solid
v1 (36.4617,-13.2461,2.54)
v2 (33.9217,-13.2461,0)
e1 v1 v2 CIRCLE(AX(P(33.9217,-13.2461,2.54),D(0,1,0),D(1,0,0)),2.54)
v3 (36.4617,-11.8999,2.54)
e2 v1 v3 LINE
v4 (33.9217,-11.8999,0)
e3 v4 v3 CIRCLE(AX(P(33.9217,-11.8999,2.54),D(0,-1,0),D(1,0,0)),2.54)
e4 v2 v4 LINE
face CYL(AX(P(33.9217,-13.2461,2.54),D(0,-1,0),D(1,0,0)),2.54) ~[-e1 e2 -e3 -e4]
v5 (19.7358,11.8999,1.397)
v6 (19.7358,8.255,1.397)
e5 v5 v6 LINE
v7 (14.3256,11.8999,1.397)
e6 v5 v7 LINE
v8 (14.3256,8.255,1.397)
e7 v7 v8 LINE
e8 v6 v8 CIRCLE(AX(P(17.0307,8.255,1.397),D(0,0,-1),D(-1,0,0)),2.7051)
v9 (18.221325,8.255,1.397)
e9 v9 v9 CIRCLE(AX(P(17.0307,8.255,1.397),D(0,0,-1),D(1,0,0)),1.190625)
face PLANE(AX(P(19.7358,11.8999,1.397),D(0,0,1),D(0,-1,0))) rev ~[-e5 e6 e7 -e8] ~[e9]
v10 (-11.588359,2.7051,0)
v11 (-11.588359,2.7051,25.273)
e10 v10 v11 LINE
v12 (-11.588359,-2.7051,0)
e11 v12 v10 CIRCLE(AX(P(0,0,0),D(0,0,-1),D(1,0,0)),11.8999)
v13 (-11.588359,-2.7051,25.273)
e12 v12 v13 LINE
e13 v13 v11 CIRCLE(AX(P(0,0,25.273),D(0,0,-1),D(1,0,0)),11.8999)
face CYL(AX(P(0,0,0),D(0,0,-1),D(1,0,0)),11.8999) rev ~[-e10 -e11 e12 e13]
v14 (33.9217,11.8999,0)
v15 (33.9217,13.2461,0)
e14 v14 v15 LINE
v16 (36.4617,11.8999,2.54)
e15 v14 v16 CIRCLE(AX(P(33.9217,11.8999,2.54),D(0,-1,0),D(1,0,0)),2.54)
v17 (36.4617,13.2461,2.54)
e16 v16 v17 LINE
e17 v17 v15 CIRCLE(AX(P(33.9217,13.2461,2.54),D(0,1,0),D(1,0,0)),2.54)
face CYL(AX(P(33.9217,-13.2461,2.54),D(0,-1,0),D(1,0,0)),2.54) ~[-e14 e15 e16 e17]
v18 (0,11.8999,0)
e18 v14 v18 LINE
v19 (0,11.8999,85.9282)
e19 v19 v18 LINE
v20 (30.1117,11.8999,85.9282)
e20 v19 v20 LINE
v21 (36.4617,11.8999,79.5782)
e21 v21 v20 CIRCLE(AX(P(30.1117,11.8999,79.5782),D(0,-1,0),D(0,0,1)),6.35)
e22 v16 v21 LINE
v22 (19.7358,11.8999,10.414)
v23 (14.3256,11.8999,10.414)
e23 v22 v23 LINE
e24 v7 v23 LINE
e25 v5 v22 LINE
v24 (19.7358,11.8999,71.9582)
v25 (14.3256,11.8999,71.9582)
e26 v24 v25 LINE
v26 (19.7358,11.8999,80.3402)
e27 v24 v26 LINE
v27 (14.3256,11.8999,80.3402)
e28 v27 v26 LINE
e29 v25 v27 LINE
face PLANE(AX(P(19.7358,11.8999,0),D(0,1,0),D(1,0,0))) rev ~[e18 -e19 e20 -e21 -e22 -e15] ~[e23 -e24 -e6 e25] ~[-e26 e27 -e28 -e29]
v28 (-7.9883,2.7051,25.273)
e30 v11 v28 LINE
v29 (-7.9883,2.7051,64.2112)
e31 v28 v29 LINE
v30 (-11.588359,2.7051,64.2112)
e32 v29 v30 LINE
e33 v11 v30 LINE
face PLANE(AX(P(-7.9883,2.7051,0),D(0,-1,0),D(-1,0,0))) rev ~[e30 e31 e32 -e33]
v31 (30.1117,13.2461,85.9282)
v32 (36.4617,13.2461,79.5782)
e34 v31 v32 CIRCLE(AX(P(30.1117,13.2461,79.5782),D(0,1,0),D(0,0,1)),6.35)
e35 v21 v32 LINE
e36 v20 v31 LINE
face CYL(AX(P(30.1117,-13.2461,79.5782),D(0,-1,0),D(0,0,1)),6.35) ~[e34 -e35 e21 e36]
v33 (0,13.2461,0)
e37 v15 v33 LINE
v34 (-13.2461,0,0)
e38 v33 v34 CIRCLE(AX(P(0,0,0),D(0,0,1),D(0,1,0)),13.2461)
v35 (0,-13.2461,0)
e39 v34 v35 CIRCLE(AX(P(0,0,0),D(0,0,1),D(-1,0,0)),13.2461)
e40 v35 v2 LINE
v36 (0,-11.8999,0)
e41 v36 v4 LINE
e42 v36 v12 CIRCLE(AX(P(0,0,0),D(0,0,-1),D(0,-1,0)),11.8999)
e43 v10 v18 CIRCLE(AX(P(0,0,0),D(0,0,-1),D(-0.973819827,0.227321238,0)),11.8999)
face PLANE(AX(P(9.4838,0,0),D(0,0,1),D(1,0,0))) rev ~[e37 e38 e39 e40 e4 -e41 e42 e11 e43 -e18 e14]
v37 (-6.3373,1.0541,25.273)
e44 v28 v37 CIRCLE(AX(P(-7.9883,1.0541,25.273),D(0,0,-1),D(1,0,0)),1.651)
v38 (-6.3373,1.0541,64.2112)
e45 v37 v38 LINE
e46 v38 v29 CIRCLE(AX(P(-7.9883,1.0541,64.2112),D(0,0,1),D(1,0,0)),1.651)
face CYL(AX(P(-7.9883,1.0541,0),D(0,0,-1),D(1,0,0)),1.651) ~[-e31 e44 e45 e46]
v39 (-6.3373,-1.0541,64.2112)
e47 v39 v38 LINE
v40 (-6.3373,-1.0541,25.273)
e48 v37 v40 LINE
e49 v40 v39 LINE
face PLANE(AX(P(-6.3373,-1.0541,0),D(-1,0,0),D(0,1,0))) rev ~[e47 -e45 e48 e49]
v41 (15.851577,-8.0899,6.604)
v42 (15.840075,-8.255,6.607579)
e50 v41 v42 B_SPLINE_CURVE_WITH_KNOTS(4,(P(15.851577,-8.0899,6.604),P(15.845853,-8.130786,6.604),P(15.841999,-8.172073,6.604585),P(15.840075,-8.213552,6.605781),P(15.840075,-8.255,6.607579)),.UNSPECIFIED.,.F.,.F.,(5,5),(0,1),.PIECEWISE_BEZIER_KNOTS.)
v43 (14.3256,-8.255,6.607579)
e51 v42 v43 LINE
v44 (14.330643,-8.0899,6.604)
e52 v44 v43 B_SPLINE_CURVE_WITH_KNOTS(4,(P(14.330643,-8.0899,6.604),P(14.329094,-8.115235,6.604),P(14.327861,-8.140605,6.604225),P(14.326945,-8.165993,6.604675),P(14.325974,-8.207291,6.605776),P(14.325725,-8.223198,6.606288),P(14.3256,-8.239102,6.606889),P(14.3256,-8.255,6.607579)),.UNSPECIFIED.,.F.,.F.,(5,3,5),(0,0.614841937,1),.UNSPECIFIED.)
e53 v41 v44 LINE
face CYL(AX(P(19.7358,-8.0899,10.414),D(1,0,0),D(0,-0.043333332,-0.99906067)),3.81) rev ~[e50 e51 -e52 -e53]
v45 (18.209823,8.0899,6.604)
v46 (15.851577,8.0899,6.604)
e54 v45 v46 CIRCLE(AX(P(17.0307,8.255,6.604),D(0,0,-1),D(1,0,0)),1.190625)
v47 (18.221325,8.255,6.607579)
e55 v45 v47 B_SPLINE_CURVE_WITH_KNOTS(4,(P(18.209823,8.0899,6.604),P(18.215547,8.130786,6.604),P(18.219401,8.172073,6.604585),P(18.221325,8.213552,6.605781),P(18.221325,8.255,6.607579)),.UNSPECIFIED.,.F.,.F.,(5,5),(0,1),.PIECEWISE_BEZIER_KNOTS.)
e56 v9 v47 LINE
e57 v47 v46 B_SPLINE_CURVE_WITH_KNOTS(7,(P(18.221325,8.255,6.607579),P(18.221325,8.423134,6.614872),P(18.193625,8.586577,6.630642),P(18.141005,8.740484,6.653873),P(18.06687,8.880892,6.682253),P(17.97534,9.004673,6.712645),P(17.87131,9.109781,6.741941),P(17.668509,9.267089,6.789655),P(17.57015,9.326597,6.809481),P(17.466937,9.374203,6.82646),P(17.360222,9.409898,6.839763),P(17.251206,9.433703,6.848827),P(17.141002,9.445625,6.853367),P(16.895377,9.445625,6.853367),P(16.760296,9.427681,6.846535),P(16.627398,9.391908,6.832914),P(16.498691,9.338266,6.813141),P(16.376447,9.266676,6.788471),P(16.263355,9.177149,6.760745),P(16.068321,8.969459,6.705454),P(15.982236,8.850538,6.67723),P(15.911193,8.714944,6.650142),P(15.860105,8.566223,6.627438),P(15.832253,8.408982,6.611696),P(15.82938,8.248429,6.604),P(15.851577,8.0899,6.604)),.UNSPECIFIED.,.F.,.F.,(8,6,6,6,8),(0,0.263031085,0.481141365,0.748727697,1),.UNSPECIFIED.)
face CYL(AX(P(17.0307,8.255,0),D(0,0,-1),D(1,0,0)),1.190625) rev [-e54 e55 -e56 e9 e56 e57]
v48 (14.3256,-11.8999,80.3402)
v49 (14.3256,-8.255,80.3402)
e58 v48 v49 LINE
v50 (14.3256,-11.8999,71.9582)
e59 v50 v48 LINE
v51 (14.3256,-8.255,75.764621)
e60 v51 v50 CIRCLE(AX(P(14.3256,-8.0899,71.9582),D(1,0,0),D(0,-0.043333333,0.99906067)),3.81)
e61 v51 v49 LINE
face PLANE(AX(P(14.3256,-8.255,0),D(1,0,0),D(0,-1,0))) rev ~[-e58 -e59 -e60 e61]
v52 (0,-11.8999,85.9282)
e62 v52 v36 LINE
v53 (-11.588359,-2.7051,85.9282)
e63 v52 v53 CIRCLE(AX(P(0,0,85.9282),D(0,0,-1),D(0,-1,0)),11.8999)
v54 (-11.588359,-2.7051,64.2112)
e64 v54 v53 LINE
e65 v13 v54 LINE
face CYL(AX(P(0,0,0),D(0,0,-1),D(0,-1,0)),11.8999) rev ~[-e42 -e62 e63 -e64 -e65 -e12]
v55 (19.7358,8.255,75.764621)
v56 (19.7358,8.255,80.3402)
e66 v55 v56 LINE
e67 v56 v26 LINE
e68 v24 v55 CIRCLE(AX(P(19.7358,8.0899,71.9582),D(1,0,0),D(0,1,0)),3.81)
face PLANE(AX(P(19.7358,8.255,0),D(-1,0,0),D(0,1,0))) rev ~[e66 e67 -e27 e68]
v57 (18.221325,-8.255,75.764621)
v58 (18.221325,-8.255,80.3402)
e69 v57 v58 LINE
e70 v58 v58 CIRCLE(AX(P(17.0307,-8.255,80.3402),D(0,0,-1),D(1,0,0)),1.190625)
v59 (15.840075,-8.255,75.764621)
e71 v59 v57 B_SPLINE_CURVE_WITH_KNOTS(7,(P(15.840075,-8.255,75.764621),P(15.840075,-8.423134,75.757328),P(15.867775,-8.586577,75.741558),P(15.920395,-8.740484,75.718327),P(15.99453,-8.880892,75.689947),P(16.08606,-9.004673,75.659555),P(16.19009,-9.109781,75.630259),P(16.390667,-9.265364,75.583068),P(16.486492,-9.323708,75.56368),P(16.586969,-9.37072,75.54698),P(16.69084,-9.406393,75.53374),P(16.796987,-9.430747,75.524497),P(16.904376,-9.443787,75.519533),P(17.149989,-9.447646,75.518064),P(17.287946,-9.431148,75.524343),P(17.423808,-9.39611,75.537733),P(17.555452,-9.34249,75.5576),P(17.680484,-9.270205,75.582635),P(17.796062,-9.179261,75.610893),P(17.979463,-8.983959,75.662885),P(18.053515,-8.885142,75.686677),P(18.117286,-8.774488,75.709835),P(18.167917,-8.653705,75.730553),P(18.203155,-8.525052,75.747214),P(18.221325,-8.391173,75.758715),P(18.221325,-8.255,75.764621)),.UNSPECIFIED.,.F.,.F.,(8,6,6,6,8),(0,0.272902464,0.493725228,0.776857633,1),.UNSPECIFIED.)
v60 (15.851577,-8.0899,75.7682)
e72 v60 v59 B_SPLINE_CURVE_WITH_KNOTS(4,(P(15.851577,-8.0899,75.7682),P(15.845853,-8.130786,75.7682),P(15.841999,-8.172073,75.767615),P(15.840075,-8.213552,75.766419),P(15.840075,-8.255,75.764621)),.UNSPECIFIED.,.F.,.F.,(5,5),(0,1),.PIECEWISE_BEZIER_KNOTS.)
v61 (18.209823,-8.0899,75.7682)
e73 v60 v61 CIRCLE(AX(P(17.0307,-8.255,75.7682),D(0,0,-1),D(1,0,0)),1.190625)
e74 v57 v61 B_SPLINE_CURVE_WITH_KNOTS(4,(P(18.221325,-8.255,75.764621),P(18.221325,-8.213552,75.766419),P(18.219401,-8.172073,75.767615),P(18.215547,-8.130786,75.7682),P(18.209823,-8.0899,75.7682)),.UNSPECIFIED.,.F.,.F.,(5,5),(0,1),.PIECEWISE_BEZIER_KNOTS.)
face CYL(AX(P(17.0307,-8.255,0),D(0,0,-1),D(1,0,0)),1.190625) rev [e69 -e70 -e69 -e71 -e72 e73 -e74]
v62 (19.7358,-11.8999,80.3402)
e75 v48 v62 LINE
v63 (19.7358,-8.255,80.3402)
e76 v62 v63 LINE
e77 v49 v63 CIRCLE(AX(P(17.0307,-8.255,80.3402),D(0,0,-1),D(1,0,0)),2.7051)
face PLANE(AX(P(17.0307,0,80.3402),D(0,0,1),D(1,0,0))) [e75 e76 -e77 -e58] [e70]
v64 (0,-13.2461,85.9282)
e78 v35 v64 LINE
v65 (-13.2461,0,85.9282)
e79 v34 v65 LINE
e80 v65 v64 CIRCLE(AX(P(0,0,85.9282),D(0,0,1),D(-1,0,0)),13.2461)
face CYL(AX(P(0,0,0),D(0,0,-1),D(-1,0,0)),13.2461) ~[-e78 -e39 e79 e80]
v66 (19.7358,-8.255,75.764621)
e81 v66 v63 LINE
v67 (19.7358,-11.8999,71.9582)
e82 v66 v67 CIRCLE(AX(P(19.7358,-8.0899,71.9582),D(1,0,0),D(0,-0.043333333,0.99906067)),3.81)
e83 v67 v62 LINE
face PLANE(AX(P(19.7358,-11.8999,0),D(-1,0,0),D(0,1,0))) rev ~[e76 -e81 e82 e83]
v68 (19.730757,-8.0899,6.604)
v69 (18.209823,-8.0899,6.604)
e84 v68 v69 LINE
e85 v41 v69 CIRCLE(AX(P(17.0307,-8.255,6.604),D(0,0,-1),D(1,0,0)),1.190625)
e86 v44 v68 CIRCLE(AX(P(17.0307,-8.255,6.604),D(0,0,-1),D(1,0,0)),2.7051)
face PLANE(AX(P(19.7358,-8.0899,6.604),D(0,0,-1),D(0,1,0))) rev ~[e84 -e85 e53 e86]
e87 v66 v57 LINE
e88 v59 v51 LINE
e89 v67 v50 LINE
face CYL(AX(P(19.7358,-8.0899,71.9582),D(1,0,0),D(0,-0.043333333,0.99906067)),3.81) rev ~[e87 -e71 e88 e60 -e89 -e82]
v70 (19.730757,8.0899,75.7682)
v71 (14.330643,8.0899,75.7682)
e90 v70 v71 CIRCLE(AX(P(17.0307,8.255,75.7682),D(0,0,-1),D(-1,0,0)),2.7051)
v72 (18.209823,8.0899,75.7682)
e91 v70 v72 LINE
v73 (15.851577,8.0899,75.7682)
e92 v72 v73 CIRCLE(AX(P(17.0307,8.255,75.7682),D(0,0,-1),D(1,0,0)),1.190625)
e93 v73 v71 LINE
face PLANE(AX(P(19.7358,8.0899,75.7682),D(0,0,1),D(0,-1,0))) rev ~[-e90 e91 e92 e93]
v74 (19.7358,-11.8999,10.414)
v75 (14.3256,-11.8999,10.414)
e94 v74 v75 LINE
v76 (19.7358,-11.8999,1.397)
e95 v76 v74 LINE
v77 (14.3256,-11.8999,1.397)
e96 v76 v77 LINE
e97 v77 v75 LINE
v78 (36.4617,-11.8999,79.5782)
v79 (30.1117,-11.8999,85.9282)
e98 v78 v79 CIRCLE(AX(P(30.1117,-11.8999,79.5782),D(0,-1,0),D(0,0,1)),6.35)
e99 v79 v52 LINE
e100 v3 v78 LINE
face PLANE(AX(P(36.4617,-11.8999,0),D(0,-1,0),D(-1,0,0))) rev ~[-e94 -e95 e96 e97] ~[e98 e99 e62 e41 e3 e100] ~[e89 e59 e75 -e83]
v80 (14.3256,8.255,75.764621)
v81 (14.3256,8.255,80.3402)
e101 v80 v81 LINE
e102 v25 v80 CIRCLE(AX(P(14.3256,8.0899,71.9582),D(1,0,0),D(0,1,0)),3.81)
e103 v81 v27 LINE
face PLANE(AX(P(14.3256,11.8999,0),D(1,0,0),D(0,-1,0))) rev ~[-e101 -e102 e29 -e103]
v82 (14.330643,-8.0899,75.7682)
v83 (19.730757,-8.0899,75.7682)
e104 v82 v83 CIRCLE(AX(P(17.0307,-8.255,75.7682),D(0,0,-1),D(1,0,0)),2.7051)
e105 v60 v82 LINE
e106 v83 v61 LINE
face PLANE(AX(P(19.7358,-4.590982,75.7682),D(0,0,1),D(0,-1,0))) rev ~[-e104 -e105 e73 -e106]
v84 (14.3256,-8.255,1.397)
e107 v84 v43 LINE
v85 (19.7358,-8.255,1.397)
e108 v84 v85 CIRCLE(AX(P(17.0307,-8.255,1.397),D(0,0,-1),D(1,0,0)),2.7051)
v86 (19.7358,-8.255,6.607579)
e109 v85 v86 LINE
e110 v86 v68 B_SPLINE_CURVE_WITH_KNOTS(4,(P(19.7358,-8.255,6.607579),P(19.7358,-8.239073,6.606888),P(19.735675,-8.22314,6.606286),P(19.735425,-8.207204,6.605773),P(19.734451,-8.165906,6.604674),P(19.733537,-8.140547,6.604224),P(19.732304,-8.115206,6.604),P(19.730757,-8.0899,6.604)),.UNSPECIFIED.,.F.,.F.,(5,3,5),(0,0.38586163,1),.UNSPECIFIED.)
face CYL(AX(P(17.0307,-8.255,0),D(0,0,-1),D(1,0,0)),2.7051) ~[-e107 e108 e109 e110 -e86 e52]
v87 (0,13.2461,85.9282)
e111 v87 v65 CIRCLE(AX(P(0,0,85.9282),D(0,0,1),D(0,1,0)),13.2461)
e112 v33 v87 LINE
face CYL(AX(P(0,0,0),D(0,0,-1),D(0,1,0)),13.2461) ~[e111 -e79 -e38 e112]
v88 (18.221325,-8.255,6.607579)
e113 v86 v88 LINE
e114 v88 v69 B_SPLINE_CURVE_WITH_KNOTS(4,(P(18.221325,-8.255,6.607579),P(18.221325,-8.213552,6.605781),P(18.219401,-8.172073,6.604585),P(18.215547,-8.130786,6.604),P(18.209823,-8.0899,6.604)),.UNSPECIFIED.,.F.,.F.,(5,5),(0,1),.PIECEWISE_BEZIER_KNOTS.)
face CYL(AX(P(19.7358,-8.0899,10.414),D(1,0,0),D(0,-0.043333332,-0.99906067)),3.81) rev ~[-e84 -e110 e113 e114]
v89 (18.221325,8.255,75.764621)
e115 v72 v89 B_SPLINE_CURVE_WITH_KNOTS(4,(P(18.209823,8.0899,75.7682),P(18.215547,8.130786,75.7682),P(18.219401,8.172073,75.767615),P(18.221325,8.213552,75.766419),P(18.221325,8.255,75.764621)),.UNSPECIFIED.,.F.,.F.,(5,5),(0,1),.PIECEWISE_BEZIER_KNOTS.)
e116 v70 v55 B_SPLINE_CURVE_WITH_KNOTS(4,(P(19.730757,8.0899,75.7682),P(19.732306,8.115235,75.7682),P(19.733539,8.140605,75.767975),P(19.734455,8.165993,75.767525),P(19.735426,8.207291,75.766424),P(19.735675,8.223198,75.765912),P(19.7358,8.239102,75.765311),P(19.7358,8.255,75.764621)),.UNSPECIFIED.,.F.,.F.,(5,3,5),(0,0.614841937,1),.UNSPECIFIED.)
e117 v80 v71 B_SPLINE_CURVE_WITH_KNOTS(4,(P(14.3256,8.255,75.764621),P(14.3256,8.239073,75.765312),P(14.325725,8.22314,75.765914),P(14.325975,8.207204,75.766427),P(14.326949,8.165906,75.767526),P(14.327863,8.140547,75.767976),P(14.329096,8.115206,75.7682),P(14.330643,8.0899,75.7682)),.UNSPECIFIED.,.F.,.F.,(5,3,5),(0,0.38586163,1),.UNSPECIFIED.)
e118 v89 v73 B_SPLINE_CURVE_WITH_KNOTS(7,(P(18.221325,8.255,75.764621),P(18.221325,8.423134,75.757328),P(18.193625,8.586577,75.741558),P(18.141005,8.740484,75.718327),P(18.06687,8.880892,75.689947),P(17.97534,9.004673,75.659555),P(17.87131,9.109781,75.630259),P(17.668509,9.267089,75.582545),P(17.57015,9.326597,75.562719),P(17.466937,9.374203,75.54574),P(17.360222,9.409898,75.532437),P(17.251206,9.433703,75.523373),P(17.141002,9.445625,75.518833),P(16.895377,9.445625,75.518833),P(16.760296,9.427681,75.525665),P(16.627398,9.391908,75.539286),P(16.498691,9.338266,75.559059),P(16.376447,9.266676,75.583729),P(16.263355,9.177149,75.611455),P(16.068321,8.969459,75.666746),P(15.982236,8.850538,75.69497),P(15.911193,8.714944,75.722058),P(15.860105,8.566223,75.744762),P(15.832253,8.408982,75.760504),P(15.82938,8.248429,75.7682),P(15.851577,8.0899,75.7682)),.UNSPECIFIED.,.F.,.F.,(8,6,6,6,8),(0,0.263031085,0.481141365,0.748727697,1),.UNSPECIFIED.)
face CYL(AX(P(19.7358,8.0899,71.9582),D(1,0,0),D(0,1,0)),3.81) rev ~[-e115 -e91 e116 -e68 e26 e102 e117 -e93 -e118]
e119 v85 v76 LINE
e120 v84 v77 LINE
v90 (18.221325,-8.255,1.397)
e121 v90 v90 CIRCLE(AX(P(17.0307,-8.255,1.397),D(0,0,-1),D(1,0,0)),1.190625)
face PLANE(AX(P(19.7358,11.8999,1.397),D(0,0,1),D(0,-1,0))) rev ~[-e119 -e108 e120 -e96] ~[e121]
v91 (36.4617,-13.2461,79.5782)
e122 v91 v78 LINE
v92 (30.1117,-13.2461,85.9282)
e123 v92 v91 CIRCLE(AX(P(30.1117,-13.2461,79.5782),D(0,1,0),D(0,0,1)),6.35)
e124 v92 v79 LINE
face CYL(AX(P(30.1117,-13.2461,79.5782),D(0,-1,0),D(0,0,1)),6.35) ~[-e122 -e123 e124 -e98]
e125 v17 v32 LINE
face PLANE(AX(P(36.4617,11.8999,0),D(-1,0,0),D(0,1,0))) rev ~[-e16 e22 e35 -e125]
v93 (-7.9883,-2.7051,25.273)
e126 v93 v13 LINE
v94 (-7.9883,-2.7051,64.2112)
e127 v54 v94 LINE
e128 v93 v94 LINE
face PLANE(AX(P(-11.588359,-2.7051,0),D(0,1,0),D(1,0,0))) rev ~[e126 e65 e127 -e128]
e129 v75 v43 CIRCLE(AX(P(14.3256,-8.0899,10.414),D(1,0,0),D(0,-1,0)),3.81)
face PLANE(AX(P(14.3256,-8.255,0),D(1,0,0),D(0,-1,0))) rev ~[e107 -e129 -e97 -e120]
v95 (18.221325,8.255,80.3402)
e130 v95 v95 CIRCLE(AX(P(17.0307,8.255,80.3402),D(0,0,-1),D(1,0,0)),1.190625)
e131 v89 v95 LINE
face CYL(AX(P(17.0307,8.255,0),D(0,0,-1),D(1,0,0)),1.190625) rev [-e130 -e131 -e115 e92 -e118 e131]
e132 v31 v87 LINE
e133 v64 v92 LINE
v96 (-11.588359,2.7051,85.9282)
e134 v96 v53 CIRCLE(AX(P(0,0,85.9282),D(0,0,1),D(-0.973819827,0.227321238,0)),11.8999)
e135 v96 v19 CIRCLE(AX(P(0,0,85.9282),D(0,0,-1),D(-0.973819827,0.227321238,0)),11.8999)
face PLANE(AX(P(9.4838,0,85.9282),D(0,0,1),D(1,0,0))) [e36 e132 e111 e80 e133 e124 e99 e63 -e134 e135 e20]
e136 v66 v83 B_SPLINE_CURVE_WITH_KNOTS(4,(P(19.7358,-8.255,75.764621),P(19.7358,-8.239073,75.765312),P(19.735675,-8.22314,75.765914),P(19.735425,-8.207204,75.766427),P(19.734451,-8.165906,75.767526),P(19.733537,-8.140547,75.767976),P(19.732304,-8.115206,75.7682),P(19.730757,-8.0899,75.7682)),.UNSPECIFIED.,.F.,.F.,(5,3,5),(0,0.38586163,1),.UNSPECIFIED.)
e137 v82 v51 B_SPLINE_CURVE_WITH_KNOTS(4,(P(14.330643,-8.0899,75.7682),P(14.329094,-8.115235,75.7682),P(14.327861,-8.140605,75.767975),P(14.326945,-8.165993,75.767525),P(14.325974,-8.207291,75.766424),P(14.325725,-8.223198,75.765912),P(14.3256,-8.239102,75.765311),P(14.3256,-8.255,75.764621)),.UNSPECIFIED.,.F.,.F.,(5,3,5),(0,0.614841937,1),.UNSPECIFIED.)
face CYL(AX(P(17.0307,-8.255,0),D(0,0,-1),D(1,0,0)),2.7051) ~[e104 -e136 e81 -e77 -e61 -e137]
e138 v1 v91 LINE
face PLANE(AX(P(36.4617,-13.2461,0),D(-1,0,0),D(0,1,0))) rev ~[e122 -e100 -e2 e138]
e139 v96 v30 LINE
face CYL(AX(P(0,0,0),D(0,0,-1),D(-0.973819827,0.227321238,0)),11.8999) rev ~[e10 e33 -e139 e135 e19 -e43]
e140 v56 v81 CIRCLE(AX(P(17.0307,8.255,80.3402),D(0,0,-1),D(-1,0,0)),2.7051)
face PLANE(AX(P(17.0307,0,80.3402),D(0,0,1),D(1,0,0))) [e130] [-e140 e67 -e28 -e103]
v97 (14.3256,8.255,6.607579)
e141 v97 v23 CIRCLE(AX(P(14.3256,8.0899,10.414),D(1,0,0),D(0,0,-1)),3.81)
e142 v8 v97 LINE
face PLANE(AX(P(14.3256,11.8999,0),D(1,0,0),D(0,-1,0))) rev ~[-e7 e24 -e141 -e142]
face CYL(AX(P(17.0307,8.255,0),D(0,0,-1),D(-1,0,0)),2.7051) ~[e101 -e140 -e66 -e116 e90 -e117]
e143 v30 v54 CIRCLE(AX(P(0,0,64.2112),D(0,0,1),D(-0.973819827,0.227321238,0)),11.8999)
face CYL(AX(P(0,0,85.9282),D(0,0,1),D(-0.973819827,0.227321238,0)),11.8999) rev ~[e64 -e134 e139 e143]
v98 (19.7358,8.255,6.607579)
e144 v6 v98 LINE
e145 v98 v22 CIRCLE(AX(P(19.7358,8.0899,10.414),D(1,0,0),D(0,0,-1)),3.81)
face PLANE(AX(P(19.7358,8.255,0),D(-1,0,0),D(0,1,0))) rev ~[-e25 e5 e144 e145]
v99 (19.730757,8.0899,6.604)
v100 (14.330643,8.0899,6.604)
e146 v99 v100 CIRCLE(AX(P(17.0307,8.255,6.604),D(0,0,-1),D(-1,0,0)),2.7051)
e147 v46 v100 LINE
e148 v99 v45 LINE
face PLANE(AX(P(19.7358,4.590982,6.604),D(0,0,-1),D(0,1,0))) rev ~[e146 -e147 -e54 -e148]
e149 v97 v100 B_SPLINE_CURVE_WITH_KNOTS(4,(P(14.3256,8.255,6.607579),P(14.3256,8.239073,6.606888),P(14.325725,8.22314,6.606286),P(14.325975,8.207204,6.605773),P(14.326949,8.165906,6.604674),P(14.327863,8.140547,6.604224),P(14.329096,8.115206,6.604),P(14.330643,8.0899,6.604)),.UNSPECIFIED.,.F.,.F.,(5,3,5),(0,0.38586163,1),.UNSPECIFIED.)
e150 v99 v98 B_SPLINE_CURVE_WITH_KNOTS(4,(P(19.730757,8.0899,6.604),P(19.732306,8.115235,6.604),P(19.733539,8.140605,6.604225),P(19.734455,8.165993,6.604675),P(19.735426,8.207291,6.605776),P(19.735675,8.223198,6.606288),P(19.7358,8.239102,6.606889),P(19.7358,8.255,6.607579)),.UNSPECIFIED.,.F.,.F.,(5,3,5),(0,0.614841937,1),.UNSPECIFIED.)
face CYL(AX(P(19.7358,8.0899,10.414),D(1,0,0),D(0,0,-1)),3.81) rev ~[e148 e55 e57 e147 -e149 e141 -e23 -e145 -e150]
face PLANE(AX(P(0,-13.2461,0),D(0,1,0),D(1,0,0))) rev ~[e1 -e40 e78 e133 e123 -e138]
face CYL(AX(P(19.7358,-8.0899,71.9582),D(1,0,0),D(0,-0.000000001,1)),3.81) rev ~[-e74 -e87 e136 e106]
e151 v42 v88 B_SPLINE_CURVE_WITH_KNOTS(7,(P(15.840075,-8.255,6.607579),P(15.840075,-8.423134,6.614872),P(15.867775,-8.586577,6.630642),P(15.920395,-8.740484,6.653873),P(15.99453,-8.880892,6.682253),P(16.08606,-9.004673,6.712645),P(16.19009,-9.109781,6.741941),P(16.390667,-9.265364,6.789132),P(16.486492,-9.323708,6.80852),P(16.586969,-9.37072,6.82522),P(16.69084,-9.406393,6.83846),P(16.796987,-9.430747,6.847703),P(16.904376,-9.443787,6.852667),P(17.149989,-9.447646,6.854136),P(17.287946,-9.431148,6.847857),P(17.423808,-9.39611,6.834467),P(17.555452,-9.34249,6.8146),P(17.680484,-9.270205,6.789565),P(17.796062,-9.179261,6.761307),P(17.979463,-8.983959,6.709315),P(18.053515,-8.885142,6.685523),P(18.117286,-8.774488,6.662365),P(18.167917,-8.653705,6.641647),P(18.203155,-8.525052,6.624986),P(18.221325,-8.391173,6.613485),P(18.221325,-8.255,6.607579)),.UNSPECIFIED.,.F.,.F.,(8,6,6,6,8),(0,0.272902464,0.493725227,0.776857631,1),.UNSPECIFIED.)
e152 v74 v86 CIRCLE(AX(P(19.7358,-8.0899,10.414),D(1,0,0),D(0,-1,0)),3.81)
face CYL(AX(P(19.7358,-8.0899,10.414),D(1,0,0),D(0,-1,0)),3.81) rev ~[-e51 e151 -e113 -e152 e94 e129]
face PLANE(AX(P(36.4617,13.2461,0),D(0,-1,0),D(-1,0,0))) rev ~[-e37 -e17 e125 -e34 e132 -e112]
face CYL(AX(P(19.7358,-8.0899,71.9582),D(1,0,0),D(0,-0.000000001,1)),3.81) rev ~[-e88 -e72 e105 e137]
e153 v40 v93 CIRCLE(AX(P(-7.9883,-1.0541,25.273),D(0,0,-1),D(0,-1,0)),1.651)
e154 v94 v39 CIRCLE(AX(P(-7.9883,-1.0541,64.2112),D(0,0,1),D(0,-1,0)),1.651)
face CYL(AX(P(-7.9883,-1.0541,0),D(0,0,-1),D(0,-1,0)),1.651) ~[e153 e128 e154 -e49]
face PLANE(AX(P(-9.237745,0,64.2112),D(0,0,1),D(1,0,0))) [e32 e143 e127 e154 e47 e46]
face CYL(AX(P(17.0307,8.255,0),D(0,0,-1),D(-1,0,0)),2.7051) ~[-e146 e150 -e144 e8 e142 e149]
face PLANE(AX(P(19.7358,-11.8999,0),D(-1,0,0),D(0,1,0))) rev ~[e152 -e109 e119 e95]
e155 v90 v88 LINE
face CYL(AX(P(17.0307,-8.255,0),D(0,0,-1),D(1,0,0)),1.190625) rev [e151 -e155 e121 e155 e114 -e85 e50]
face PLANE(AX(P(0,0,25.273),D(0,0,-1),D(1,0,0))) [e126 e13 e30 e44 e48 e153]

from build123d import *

# Parameters (mm, degrees)
F0_R      = 1.190625
F1_DEPTH  = 85.9282
F3_DEPTH  = 21.717
F2_R      = 11.8999
F2_W      = 5.4102
F2_H      = 23.7998
F4_DEPTH  = 5.588
F6_DEPTH  = 6.35
F7_W      = 3.6449
F7_H      = 1.397
F8_DEPTH  = 6.35
F9_R      = 11.8999
F10_DEPTH = 25.273
F12_DEPTH = 26.4922


with BuildPart() as f1:
    # F0 (on Top) → F1 (new body)
    with BuildSketch(Plane.XY):
        with BuildLine():
            Line((36.4617, 13.2461), (0, 13.2461))
            ThreePointArc((0, 13.2461), (-9.3664071343, 9.3664071343), (-13.2461, 0))
            ThreePointArc((-13.2461, 0), (-9.3664071343, -9.3664071343), (0, -13.2461))
            Line((0, -13.2461), (36.4617, -13.2461))
            Line((36.4617, -13.2461), (36.4617, -11.8999))
            Line((36.4617, -11.8999), (19.7358, -11.8999))
            Line((19.7358, -11.8999), (19.7358, -8.255))
            ThreePointArc((19.7358, -8.255), (17.0307, -5.5499), (14.3256, -8.255))
            Line((14.3256, -8.255), (14.3256, -11.8999))
            Line((14.3256, -11.8999), (0, -11.8999))
            ThreePointArc((0, -11.8999), (-7.3965262293, -9.3219643718), (-11.588358555, -2.7051))
            Line((-11.588358555, -2.7051), (-7.9883, -2.7051))
            ThreePointArc((-7.9883, -2.7051), (-6.8208667043, -2.2215332957), (-6.3373, -1.0541))
            Line((-6.3373, -1.0541), (-6.3373, 1.0541))
            ThreePointArc((-6.3373, 1.0541), (-6.8208667043, 2.2215332957), (-7.9883, 2.7051))
            Line((-7.9883, 2.7051), (-11.588358555, 2.7051))
            ThreePointArc((-11.588358555, 2.7051), (-7.3965262293, 9.3219643718), (0, 11.8999))
            Line((0, 11.8999), (14.3256, 11.8999))
            Line((14.3256, 11.8999), (14.3256, 8.255))
            ThreePointArc((14.3256, 8.255), (17.0307, 5.5499), (19.7358, 8.255))
            Line((19.7358, 8.255), (19.7358, 11.8999))
            Line((19.7358, 11.8999), (36.4617, 11.8999))
            Line((36.4617, 11.8999), (36.4617, 13.2461))
        make_face()
        with Locations((17.0307, -8.255)):
            Circle(F0_R, mode=Mode.SUBTRACT)
        with Locations((17.0307, 8.255)):
            Circle(F0_R, mode=Mode.SUBTRACT)
    extrude(amount=F1_DEPTH)

    # F2 (on face) → F3 (cut)
    with BuildSketch(Plane.XY.offset(85.9282)):
        with BuildLine():
            Line((-7.9883, 2.7051), (-11.588358555, 2.7051))
            ThreePointArc((-11.588358555, 2.7051), (-11.8999, 0), (-11.588358555, -2.7051))
            Line((-11.588358555, -2.7051), (-7.9883, -2.7051))
            ThreePointArc((-7.9883, -2.7051), (-6.8208667043, -2.2215332957), (-6.3373, -1.0541))
            Line((-6.3373, -1.0541), (-6.3373, 1.0541))
            ThreePointArc((-6.3373, 1.0541), (-6.8208667043, 2.2215332957), (-7.9883, 2.7051))
        make_face()
    extrude(amount=-F3_DEPTH, mode=Mode.SUBTRACT)

    # F2 (on face) → F4 (cut)
    with BuildSketch(Plane.XY.offset(85.9282)):
        Circle(F2_R)
        with Locations((17.0307, 0)):
            Rectangle(F2_W, F2_H)
    extrude(amount=-F4_DEPTH, mode=Mode.SUBTRACT)

    # F5 (on face) → F6 (cut)
    with BuildSketch(Plane.YZ.offset(19.7358)):
        with BuildLine():
            ThreePointArc((-8.255, 75.7646211525), (-10.8417294824, 74.593258728), (-11.8999, 71.9582))
            Line((-11.8999, 71.9582), (-11.8999, 10.414))
            ThreePointArc((-11.8999, 10.414), (-10.8417294824, 7.778941272), (-8.255, 6.6075788475))
            Line((-8.255, 6.6075788475), (-8.255, 75.7646211525))
        make_face()
        with BuildLine():
            ThreePointArc((-8.0899, 75.7682), (-8.1724693923, 75.767305183), (-8.255, 75.7646211525))
            Line((-8.255, 75.7646211525), (-8.255, 6.6075788475))
            ThreePointArc((-8.255, 6.6075788475), (-8.1724693923, 6.604894817), (-8.0899, 6.604))
            Line((-8.0899, 6.604), (-4.5909816399, 6.604))
            Line((-4.5909816399, 6.604), (-4.5909816399, 75.7682))
            Line((-4.5909816399, 75.7682), (-8.0899, 75.7682))
        make_face()
        with BuildLine():
            ThreePointArc((8.0899, 6.604), (10.7839768363, 7.7199231637), (11.8999, 10.414))
            Line((11.8999, 10.414), (11.8999, 71.9582))
            ThreePointArc((11.8999, 71.9582), (10.7839768363, 74.6522768363), (8.0899, 75.7682))
            Line((8.0899, 75.7682), (4.5909816399, 75.7682))
            Line((4.5909816399, 75.7682), (4.5909816399, 6.604))
            Line((4.5909816399, 6.604), (8.0899, 6.604))
        make_face()
    extrude(amount=-F6_DEPTH, mode=Mode.SUBTRACT)

    # F7 (on face) → F8 (cut)
    with BuildSketch(Plane.YZ.offset(19.7358)):
        Polygon((8.255, 0), (8.255, 1.397), (-11.8999, 1.397), (-11.8999, -1.397), (11.8999, -1.397), (11.8999, 0), align=None)
        with Locations((10.07745, 0.6985)):
            Rectangle(F7_W, F7_H)
    extrude(amount=-F8_DEPTH, mode=Mode.SUBTRACT)

    # F9 (on face) → F10 (cut)
    with BuildSketch(Plane(origin=(0, 0, 0), x_dir=(1, 0, 0), z_dir=(0, 0, -1))):
        Circle(F9_R)
    extrude(amount=-F10_DEPTH, mode=Mode.SUBTRACT)

    # F11 (on face) → F12 (cut, through all)
    with BuildSketch(Plane.XZ.offset(13.2461)):
        with BuildLine():
            ThreePointArc((30.1117, 85.9282), (34.6018280605, 84.0683280605), (36.4617, 79.5782))
            Line((36.4617, 79.5782), (36.4617, 85.9282))
            Line((36.4617, 85.9282), (30.1117, 85.9282))
        make_face()
        with BuildLine():
            ThreePointArc((36.4617, 2.54), (35.7177512242, 0.7439487758), (33.9217, 0))
            Line((33.9217, 0), (36.4617, 0))
            Line((36.4617, 0), (36.4617, 2.54))
        make_face()
    extrude(amount=-F12_DEPTH, mode=Mode.SUBTRACT)


solid = f1.part
